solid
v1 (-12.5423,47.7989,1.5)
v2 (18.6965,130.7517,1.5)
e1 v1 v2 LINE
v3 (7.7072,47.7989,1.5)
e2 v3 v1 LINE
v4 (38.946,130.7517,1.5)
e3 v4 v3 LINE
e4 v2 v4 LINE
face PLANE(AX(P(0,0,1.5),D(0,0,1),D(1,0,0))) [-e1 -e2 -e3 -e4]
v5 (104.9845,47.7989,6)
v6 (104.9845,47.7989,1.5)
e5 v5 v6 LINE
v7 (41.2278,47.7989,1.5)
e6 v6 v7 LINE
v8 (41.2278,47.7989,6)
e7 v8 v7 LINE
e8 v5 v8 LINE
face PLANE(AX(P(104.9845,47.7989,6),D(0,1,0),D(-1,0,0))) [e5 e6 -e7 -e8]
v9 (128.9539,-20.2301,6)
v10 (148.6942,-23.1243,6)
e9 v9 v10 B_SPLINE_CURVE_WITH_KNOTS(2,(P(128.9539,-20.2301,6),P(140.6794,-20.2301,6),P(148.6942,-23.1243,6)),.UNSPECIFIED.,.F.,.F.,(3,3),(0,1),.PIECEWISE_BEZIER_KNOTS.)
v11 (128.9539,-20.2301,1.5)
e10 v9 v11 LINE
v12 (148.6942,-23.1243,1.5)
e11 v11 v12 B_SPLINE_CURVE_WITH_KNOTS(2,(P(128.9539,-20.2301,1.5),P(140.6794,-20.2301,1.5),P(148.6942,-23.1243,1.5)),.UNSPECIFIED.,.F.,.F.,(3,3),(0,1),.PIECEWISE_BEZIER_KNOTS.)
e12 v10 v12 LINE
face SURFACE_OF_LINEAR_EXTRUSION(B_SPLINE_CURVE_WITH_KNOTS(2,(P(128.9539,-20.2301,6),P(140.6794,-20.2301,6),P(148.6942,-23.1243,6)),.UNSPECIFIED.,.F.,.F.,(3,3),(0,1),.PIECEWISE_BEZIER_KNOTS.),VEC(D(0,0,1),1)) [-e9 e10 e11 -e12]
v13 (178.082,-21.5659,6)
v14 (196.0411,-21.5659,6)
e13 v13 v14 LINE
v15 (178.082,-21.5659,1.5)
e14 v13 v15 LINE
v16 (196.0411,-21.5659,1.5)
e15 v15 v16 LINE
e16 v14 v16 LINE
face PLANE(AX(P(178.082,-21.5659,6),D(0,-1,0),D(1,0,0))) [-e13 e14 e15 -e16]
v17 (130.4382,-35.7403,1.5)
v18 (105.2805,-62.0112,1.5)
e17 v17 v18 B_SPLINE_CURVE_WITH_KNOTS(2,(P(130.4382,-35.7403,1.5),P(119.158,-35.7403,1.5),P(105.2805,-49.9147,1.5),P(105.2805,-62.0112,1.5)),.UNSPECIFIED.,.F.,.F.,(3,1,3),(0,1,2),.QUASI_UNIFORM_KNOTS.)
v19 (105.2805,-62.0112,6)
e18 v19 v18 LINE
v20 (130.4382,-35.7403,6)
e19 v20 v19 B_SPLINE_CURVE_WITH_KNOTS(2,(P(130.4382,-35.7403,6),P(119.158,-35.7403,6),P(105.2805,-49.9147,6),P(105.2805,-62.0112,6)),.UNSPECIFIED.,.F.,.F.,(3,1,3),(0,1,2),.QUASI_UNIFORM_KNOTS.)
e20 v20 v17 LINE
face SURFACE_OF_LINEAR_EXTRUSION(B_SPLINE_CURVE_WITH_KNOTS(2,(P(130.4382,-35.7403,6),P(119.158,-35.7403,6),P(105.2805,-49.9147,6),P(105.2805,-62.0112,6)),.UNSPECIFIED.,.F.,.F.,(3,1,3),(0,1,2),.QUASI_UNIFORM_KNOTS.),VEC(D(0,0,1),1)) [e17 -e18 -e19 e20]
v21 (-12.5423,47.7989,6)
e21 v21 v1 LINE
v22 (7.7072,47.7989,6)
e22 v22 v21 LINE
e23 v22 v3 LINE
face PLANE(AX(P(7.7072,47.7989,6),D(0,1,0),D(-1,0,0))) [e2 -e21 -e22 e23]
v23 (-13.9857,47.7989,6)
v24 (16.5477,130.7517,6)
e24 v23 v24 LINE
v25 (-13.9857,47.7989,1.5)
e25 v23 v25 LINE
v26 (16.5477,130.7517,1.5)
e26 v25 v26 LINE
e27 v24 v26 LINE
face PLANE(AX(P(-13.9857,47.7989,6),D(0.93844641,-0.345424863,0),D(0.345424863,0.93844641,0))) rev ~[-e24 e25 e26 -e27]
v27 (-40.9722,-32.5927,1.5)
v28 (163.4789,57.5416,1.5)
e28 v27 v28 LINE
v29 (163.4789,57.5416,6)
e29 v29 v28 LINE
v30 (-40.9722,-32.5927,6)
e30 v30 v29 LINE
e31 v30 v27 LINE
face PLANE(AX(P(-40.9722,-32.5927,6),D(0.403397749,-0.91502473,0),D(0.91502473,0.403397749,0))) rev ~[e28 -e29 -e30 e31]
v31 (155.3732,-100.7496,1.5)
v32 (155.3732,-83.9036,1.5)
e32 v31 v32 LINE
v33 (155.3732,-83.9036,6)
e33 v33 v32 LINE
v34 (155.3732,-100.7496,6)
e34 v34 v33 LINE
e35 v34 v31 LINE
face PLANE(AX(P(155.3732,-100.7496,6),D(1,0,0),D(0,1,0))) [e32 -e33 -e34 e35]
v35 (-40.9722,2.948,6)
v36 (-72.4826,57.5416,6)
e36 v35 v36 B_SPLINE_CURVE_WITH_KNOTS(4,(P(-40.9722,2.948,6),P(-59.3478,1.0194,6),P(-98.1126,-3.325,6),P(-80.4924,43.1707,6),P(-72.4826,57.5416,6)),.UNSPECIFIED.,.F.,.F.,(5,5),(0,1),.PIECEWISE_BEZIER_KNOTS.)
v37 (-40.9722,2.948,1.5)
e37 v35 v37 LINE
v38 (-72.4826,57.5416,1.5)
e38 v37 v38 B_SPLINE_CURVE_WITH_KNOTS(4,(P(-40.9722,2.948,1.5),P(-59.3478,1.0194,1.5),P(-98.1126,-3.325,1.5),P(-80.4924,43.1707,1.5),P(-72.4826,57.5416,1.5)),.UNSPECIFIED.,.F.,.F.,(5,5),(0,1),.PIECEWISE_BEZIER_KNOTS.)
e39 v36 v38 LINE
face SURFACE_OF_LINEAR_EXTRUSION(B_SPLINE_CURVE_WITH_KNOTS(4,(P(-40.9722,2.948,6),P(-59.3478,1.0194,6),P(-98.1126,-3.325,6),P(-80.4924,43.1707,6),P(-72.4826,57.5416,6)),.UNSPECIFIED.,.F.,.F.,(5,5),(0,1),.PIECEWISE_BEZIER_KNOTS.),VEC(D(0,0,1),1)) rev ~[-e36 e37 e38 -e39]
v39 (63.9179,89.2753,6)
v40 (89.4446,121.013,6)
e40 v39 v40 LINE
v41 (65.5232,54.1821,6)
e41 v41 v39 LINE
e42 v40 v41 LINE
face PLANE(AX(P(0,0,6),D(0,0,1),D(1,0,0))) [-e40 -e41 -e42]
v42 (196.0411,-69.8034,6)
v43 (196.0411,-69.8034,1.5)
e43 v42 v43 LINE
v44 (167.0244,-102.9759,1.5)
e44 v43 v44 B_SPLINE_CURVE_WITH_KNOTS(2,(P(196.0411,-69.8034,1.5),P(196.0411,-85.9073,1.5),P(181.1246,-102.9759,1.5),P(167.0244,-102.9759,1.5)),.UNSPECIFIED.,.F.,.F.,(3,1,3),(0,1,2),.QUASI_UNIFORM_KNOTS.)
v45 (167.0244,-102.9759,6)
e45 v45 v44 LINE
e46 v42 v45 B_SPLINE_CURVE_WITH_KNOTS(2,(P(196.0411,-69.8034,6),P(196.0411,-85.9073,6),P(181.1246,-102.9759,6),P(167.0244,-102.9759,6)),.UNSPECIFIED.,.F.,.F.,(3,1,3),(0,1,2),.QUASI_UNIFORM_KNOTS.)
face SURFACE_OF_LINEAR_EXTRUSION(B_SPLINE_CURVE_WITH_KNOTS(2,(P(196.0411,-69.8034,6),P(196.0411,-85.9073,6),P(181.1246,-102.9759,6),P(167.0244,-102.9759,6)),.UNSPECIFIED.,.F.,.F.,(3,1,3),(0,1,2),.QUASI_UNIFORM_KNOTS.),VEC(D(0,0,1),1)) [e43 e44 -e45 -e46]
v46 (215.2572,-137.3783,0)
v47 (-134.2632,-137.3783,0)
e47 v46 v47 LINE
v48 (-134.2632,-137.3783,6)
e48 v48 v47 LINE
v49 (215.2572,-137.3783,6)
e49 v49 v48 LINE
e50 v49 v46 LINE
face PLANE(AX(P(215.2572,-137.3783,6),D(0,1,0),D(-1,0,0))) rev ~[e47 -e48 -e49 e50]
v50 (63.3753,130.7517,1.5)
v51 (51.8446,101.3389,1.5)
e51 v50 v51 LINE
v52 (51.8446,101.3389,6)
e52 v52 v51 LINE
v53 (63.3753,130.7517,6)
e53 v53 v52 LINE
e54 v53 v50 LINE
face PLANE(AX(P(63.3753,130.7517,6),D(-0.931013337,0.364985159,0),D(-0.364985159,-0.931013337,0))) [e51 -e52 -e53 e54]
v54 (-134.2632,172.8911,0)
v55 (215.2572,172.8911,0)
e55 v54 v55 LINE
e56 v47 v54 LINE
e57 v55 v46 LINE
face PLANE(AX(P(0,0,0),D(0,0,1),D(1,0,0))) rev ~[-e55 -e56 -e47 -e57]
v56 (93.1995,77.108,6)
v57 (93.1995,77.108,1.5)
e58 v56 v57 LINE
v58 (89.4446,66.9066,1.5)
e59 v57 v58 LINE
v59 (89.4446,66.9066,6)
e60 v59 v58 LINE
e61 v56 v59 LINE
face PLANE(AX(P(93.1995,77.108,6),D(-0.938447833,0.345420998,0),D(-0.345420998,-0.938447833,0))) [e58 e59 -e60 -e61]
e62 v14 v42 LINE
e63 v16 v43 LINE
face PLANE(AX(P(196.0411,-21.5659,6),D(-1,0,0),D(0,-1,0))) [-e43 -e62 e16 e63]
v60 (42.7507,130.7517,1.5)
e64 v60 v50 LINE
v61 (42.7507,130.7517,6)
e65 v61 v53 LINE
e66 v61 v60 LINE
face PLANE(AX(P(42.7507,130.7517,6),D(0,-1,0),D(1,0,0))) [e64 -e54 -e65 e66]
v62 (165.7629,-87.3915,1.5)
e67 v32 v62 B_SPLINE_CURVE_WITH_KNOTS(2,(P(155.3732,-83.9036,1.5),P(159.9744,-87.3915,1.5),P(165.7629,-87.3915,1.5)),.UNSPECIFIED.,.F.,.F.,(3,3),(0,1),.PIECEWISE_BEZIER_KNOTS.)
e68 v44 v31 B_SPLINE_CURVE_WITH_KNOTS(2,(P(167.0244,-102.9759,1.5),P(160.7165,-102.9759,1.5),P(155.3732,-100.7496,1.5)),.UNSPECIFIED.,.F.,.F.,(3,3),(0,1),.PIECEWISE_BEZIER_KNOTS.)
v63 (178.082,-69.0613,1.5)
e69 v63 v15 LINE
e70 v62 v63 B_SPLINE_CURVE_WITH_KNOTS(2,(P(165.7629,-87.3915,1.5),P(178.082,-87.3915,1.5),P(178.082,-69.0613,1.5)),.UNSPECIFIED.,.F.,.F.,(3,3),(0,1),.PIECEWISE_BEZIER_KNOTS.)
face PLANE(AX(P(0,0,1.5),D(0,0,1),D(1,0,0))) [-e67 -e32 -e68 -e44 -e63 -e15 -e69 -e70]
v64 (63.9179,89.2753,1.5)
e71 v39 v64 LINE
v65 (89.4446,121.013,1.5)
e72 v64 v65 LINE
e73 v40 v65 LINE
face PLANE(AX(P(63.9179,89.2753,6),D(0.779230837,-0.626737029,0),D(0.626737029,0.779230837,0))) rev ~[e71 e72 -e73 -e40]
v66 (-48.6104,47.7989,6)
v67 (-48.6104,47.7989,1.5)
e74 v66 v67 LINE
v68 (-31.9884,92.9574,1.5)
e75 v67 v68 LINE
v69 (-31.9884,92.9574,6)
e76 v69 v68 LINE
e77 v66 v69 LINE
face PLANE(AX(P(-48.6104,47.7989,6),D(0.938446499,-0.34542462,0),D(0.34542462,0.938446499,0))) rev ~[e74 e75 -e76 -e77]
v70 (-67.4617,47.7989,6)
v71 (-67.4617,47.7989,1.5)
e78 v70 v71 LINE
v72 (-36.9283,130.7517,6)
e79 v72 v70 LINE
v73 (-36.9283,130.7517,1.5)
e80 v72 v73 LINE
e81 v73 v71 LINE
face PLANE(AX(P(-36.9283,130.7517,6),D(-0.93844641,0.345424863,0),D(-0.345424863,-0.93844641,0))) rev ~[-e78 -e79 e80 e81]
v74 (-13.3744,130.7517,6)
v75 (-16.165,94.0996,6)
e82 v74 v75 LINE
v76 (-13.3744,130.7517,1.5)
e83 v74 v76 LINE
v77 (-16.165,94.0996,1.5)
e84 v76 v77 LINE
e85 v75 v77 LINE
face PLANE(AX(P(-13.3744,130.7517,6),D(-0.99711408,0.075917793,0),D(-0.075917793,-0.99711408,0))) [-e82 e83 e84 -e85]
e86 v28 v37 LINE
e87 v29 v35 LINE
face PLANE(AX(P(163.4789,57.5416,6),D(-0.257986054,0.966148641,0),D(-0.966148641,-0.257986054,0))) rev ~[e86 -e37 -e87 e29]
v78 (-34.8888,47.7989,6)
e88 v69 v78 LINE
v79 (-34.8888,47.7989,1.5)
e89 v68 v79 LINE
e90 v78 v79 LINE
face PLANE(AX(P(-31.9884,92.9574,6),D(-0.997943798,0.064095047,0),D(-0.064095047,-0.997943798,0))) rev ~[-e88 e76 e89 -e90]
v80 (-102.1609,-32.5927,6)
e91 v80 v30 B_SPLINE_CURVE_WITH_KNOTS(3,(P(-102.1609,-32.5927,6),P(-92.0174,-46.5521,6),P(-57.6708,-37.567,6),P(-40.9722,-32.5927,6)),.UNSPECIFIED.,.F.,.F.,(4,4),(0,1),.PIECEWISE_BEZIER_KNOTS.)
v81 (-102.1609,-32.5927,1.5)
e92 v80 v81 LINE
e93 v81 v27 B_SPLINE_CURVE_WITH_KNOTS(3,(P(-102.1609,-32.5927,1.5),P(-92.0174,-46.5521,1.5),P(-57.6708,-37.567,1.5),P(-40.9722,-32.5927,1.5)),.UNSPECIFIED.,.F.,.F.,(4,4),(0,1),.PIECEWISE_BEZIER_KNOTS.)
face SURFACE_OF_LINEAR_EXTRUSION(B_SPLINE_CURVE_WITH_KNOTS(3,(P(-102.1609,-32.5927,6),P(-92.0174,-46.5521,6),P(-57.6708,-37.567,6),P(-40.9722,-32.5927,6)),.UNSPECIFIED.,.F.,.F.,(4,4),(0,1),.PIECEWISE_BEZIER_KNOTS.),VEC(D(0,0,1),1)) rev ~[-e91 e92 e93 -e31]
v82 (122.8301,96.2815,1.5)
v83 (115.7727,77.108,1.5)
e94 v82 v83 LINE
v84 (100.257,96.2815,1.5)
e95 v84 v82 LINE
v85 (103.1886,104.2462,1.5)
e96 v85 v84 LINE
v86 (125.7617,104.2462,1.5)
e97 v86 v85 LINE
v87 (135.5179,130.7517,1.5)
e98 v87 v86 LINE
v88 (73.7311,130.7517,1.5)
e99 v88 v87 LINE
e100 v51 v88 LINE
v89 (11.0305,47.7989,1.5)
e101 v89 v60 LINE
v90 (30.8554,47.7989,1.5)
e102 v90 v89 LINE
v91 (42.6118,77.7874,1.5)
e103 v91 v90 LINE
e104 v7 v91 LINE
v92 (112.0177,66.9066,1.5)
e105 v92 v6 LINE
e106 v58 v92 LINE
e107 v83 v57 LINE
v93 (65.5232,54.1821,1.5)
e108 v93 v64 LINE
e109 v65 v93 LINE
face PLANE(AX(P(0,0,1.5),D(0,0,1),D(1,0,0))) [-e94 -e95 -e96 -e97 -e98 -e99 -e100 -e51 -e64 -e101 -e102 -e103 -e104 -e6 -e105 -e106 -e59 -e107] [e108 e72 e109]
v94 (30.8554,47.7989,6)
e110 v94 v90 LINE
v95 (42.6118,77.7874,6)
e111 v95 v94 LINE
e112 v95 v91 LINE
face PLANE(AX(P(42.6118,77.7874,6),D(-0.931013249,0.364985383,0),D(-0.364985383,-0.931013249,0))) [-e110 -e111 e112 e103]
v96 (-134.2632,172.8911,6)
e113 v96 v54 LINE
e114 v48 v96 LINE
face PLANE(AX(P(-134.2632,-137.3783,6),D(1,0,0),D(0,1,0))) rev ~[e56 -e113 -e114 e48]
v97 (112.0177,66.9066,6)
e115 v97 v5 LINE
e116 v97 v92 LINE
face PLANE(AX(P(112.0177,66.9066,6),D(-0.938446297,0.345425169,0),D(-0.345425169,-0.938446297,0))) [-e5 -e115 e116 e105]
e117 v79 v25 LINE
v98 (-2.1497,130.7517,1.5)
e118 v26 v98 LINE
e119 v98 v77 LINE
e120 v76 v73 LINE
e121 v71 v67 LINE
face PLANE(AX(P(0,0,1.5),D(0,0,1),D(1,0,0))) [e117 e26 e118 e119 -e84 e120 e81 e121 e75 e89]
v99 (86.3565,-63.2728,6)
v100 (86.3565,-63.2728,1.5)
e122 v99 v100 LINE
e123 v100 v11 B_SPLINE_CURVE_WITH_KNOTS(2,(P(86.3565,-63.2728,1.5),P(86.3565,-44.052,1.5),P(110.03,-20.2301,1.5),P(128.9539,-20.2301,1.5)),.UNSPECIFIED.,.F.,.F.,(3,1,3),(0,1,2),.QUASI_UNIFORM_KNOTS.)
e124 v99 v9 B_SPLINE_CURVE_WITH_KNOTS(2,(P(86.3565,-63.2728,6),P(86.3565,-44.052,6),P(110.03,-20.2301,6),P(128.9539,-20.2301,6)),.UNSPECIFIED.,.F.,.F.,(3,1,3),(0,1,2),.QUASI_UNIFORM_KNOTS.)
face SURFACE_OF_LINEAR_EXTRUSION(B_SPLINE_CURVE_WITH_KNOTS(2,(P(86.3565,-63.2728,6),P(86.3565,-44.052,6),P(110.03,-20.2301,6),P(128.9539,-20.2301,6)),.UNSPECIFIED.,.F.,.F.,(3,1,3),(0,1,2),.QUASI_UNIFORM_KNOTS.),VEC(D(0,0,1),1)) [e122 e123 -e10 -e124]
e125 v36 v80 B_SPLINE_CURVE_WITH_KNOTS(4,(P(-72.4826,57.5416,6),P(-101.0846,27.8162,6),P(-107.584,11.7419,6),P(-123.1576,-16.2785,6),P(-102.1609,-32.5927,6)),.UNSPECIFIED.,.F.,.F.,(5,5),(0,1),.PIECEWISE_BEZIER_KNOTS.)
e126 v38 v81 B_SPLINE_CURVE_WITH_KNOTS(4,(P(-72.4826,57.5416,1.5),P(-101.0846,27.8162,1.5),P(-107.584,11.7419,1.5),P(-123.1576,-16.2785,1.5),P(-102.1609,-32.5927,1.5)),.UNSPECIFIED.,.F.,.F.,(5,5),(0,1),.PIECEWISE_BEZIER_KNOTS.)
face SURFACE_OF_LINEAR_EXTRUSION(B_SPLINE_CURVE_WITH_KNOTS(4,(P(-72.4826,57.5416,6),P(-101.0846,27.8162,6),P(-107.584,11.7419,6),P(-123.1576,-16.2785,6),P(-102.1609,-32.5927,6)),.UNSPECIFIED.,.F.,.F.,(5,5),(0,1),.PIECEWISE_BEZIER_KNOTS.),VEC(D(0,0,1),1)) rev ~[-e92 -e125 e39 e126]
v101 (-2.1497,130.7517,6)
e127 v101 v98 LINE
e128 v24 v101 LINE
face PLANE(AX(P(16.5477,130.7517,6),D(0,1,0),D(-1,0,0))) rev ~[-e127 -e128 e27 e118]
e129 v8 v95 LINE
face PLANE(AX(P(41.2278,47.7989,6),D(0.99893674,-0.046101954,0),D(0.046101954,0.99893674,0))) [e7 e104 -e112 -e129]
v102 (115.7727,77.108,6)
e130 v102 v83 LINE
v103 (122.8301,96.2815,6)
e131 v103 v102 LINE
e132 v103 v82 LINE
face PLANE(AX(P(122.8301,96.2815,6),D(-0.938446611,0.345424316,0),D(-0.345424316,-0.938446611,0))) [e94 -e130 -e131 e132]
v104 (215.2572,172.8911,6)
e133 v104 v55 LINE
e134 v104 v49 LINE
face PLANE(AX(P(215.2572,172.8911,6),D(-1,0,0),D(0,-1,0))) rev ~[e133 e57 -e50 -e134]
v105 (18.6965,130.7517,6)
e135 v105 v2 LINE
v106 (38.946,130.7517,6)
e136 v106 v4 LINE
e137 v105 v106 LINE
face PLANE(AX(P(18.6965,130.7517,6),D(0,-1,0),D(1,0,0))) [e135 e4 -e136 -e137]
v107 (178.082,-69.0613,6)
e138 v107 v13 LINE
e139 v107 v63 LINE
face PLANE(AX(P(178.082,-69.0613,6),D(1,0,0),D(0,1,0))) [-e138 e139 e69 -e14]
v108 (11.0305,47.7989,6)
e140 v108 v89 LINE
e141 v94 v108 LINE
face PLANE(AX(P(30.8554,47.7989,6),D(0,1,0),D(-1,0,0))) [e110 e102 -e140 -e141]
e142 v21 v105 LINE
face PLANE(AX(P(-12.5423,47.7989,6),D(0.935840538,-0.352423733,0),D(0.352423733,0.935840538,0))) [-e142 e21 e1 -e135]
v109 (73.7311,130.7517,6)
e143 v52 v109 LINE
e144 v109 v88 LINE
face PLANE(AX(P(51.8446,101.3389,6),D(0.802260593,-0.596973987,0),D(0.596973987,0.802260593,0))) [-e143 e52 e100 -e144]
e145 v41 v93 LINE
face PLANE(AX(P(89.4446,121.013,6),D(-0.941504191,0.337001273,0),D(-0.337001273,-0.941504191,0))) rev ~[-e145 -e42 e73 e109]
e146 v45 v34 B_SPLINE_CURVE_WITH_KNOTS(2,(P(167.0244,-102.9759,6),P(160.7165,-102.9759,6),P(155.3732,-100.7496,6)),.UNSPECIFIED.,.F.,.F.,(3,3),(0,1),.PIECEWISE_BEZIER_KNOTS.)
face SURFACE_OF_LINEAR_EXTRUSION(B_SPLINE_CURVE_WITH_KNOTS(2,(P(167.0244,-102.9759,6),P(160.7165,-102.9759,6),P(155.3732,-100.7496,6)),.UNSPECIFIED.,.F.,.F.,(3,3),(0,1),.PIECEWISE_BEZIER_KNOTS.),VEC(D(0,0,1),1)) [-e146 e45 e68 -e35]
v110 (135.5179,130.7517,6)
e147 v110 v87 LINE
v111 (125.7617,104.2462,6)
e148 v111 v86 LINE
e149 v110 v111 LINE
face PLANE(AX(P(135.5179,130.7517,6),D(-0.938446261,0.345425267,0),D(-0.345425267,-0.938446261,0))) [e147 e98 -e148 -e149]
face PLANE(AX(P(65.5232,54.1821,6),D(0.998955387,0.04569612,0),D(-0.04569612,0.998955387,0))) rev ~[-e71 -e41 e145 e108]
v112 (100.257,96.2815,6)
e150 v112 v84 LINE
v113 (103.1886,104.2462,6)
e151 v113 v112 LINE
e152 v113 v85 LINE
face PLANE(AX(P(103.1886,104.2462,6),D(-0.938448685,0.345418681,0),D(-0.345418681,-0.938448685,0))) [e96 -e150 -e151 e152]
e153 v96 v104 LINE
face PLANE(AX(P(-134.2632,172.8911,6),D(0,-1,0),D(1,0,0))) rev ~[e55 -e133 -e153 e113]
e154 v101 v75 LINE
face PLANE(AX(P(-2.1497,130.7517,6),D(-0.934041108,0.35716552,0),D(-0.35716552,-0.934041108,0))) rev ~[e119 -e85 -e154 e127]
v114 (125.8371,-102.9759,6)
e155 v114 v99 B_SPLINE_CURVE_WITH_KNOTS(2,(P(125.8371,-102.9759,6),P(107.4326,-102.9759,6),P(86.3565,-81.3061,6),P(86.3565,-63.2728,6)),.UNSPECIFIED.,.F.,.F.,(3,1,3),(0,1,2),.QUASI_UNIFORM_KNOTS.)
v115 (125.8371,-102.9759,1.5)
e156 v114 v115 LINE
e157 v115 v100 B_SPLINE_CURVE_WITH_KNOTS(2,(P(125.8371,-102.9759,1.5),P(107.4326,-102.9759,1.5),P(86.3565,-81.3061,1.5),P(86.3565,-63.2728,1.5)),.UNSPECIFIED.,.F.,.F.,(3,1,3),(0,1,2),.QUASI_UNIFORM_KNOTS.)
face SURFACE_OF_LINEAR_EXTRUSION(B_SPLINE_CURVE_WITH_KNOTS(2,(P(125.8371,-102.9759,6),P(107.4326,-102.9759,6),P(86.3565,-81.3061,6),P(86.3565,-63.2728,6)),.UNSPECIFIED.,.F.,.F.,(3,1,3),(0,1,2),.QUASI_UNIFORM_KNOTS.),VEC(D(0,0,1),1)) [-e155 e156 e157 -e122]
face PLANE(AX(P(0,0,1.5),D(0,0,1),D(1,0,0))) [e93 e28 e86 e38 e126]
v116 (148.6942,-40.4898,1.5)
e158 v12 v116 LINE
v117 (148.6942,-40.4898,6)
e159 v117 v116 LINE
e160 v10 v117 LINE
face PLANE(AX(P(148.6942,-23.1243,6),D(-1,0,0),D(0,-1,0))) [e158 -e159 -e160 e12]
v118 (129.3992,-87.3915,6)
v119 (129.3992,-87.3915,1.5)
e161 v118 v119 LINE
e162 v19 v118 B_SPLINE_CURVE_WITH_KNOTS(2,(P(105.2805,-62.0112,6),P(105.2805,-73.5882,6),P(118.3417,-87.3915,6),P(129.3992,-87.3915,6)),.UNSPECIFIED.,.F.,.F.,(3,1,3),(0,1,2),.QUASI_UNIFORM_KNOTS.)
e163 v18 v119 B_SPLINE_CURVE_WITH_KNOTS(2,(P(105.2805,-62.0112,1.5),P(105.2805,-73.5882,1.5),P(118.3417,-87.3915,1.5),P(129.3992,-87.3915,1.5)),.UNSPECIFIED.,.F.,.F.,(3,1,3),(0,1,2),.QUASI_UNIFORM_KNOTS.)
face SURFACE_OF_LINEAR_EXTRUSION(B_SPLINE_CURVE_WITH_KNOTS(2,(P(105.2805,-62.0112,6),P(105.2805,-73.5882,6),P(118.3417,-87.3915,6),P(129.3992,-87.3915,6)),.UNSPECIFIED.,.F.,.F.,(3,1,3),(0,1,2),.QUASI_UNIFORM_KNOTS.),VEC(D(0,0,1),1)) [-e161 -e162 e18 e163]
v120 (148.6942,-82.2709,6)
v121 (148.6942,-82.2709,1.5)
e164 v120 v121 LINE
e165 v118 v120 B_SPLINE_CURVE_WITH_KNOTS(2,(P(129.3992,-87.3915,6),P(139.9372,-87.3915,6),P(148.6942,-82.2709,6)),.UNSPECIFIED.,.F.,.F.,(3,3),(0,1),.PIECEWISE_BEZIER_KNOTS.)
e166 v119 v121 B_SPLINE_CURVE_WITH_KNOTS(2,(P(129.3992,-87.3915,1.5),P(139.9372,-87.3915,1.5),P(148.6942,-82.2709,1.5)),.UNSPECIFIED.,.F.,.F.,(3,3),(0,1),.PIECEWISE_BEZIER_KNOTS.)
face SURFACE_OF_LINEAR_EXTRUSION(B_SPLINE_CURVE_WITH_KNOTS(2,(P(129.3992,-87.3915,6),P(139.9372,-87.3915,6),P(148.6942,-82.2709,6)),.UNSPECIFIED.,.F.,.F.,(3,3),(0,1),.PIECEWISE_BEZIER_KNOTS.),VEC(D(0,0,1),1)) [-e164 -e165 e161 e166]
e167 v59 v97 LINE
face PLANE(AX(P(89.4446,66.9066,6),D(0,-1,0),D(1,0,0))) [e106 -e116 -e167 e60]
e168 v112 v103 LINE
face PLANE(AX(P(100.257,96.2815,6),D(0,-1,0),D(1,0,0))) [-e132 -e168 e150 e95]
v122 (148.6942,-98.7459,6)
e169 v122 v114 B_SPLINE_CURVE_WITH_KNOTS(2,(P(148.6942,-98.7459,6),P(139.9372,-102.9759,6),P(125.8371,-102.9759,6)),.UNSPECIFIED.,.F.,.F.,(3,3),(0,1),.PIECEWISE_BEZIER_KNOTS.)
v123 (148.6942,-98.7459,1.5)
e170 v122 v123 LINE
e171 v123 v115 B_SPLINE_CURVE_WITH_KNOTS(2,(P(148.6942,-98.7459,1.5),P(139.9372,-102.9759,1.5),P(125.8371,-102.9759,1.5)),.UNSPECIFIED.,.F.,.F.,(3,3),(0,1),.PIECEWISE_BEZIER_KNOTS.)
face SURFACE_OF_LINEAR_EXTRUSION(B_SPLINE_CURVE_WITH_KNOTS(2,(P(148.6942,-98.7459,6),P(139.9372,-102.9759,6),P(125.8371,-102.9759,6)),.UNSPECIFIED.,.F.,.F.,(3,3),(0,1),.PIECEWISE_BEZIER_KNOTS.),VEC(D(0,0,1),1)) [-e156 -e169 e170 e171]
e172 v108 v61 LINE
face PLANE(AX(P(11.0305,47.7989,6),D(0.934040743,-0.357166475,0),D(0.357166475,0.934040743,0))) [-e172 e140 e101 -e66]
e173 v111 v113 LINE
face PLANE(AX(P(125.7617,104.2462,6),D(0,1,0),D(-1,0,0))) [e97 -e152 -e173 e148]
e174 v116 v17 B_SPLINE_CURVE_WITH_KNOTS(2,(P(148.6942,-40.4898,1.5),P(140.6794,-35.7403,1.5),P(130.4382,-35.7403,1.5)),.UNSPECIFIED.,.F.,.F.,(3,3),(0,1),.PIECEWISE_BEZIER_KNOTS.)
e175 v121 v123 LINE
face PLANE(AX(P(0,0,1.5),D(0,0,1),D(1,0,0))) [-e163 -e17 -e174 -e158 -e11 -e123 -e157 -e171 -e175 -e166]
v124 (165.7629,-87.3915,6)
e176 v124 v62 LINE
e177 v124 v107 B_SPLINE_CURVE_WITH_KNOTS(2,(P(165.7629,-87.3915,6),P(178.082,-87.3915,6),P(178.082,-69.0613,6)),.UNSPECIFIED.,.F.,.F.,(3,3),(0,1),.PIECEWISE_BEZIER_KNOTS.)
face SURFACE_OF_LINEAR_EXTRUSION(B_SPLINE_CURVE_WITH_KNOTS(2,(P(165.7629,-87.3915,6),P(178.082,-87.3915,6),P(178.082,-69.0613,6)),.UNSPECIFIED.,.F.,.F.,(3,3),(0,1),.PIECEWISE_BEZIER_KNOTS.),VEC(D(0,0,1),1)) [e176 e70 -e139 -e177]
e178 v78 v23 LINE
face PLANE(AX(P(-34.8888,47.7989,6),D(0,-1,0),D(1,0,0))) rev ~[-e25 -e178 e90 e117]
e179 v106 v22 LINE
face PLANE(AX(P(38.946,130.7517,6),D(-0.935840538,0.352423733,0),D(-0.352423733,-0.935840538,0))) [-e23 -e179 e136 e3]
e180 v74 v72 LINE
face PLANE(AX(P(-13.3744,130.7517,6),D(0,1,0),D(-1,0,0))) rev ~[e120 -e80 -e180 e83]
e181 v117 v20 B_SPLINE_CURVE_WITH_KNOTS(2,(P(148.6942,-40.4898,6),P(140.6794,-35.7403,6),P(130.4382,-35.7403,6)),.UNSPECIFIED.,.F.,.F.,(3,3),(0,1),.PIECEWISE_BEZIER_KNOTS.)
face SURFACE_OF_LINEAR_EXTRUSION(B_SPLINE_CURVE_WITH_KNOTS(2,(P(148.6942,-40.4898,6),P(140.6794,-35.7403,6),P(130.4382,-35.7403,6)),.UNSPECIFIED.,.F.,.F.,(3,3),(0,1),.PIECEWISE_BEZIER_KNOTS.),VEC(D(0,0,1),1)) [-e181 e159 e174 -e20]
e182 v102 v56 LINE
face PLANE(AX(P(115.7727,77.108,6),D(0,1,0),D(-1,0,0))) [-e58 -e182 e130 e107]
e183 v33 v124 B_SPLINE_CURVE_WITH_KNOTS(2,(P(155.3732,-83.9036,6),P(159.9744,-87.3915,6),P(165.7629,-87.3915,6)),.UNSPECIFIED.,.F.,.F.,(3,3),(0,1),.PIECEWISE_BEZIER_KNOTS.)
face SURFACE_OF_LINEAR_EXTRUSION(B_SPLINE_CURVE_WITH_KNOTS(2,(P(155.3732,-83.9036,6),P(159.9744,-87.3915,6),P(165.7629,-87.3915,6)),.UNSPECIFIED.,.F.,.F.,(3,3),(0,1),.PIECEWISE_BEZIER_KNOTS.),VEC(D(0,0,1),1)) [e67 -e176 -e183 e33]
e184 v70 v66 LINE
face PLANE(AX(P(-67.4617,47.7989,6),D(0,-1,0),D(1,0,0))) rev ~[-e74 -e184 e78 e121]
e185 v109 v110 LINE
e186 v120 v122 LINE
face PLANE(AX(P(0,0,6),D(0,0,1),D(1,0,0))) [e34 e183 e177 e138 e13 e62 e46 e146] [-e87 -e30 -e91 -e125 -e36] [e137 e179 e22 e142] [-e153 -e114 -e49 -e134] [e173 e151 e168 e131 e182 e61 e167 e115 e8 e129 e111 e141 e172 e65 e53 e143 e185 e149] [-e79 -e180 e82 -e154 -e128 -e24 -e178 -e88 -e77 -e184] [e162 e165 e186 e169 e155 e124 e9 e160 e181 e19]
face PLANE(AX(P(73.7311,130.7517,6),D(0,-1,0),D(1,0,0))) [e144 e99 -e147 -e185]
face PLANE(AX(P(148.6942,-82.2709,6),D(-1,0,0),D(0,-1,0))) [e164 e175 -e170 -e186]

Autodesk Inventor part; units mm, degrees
ref_plane "YZ Plane" through (0, 0, 0) normal (1, 0, 0) x (0, 1, 0)
ref_plane "XZ Plane" through (0, 0, 0) normal (0, 1, 0) x (-1, 0, 0)
ref_plane "XY Plane" through (0, 0, 0) normal (0, 0, 1) x (1, 0, 0)
sketch "Boceto1" plane through (0, 0, 0) normal (0, 0, 1) x (1, 0, 0)
  line L0 (-250, -250) -> (250, -250)
  line L1 (250, -250) -> (250, 250)
  line L2 (250, 250) -> (-250, 250)
  line L3 (-250, 250) -> (-250, -250)
  line L4 (-250, -250) -> (250, 250) construction
  line L5 (250, -250) -> (-250, 250) construction
  point P0 (0, 0)
  dimension "d0" = 500
  dimension "d1" = 500
extrude "Extrusión1" add sketch "Boceto1" along normal blind 6
sketch "Boceto4" plane through (0, 0, 6) normal (0, 0, 1) x (1, 0, 0)
  line L0 (-122.9682, 69.533) -> (177.0318, 69.533) construction
  line L1 (177.0318, 69.533) -> (177.0318, -53.8632) construction
  line L2 (177.0318, -53.8632) -> (-122.9682, -53.8632) construction
  line L3 (-122.9682, -53.8632) -> (-122.9682, 69.533) construction
  line L4 (163.4789, 57.5416) -> (-40.9722, 2.948)
  spline S0 degree 4 poles (-40.9722, 2.948) (-59.3478, 1.0194) (-98.1126, -3.325) (-80.4924, 43.1707) (-72.4826, 57.5416) knots 0 0 0 0 0 1 1 1 1 1
  spline S1 degree 4 poles (-72.4826, 57.5416) (-101.0846, 27.8162) (-107.584, 11.7419) (-123.1576, -16.2785) (-102.1609, -32.5927) knots 0 0 0 0 0 1 1 1 1 1
  spline S2 degree 3 poles (-102.1609, -32.5927) (-92.0174, -46.5521) (-57.6708, -37.567) (-40.9722, -32.5927) knots 0 0 0 0 1 1 1 1
  line L5 (-40.9722, -32.5927) -> (163.4789, 57.5416)
  point P0 (0, 0)
  point P1 (-62.9545, 2.949)
  point P2 (-77.976, 12.1095)
  point P3 (-80.9081, 33.7265)
  point P4 (-98.8634, 24.932)
  point P5 (-109.4889, 2.9481)
  point P6 (-111.753, -15.9522)
  point P7 (-88.6041, -39.5543)
  point P8 (-62.956, -38.0886)
  dimension "d19" = 300
extrude "Extrusión4" cut sketch "Boceto4" against normal blind 4.5
sketch "Boceto6" plane through (0, 0, 6) normal (0, 0, 1) x (1, 0, 0)
  line L0 (82.2007, -20.2301) -> (276.8192, -20.2301) construction
  line L1 (276.8192, -20.2301) -> (276.8192, -107.8084) construction
  line L2 (276.8192, -107.8084) -> (82.2007, -107.8084) construction
  line L3 (82.2007, -107.8084) -> (82.2007, -20.2301) construction
  spline S0 degree 2 poles (148.6942, -98.7459) (139.9372, -102.9759) (125.8371, -102.9759) knots 0 0 0 1 1 1
  spline S1 degree 2 poles (125.8371, -102.9759) (107.4326, -102.9759) (86.3565, -81.3061) (86.3565, -63.2728) knots 0 0 0 1 2 2 2
  spline S2 degree 2 poles (86.3565, -63.2728) (86.3565, -44.052) (110.03, -20.2301) (128.9539, -20.2301) knots 0 0 0 1 2 2 2
  spline S3 degree 2 poles (128.9539, -20.2301) (140.6794, -20.2301) (148.6942, -23.1243) knots 0 0 0 1 1 1
  line L4 (148.6942, -23.1243) -> (148.6942, -40.4898)
  spline S4 degree 2 poles (148.6942, -40.4898) (140.6794, -35.7403) (130.4382, -35.7403) knots 0 0 0 1 1 1
  spline S5 degree 2 poles (130.4382, -35.7403) (119.158, -35.7403) (105.2805, -49.9147) (105.2805, -62.0112) knots 0 0 0 1 2 2 2
  spline S6 degree 2 poles (105.2805, -62.0112) (105.2805, -73.5882) (118.3417, -87.3915) (129.3992, -87.3915) knots 0 0 0 1 2 2 2
  spline S7 degree 2 poles (129.3992, -87.3915) (139.9372, -87.3915) (148.6942, -82.2709) knots 0 0 0 1 1 1
  line L5 (148.6942, -82.2709) -> (148.6942, -98.7459)
  spline S8 degree 2 poles (196.0411, -69.8034) (196.0411, -85.9073) (181.1246, -102.9759) (167.0244, -102.9759) knots 0 0 0 1 2 2 2
  spline S9 degree 2 poles (167.0244, -102.9759) (160.7165, -102.9759) (155.3732, -100.7496) knots 0 0 0 1 1 1
  line L6 (155.3732, -100.7496) -> (155.3732, -83.9036)
  spline S10 degree 2 poles (155.3732, -83.9036) (159.9744, -87.3915) (165.7629, -87.3915) knots 0 0 0 1 1 1
  spline S11 degree 2 poles (165.7629, -87.3915) (178.082, -87.3915) (178.082, -69.0613) knots 0 0 0 1 1 1
  line L7 (178.082, -69.0613) -> (178.082, -21.5659)
  line L8 (178.082, -21.5659) -> (196.0411, -21.5659)
  line L9 (196.0411, -21.5659) -> (196.0411, -69.8034)
  point P0 (0, 0)
extrude "Extrusión5" cut sketch "Boceto6" against normal blind 4.5
sketch "Boceto7" plane through (0, 0, 6) normal (0, 0, 1) x (1, 0, 0)
  line L0 (-96.8701, 190.9254) -> (156.7066, 190.9254) construction
  line L1 (156.7066, 190.9254) -> (156.7066, -16.508) construction
  line L2 (156.7066, -16.508) -> (-96.8701, -16.508) construction
  line L3 (-96.8701, -16.508) -> (-96.8701, 190.9254) construction
  line L4 (-67.4617, 47.7989) -> (-48.6104, 47.7989)
  line L5 (-48.6104, 47.7989) -> (-31.9884, 92.9574)
  line L6 (-31.9884, 92.9574) -> (-34.8888, 47.7989)
  line L7 (-34.8888, 47.7989) -> (-13.9857, 47.7989)
  line L8 (-13.9857, 47.7989) -> (16.5477, 130.7517)
  line L9 (16.5477, 130.7517) -> (-2.1497, 130.7517)
  line L10 (-13.3744, 130.7517) -> (-36.9283, 130.7517)
  line L11 (-36.9283, 130.7517) -> (-67.4617, 47.7989)
  line L12 (7.7072, 47.7989) -> (-12.5423, 47.7989)
  line L13 (-12.5423, 47.7989) -> (18.6965, 130.7517)
  line L14 (18.6965, 130.7517) -> (38.946, 130.7517)
  line L15 (38.946, 130.7517) -> (7.7072, 47.7989)
  line L16 (-13.3744, 130.7517) -> (-16.165, 94.0996)
  line L17 (-2.1497, 130.7517) -> (-16.165, 94.0996)
  line L18 (42.7507, 130.7517) -> (63.3753, 130.7517)
  line L19 (63.3753, 130.7517) -> (51.8446, 101.3389)
  line L20 (51.8446, 101.3389) -> (73.7311, 130.7517)
  line L21 (73.7311, 130.7517) -> (135.5179, 130.7517)
  line L22 (135.5179, 130.7517) -> (125.7617, 104.2462)
  line L23 (125.7617, 104.2462) -> (103.1886, 104.2462)
  line L24 (103.1886, 104.2462) -> (100.257, 96.2815)
  line L25 (100.257, 96.2815) -> (122.8301, 96.2815)
  line L26 (122.8301, 96.2815) -> (115.7727, 77.108)
  line L27 (115.7727, 77.108) -> (93.1995, 77.108)
  line L28 (93.1995, 77.108) -> (89.4446, 66.9066)
  line L29 (89.4446, 66.9066) -> (112.0177, 66.9066)
  line L30 (112.0177, 66.9066) -> (104.9845, 47.7989)
  line L31 (104.9845, 47.7989) -> (41.2278, 47.7989)
  line L32 (41.2278, 47.7989) -> (42.6118, 77.7874)
  line L33 (42.6118, 77.7874) -> (30.8554, 47.7989)
  line L34 (11.0305, 47.7989) -> (42.7507, 130.7517)
  line L35 (30.8554, 47.7989) -> (11.0305, 47.7989)
  line L36 (89.4446, 121.013) -> (65.5232, 54.1821)
  line L37 (65.5232, 54.1821) -> (63.9179, 89.2753)
  line L38 (63.9179, 89.2753) -> (89.4446, 121.013)
  point P0 (0, 0)
extrude "Extrusión6" cut sketch "Boceto7" against normal blind 4.5
sketch "Boceto8" plane through (0, 0, 6) normal (0, 0, 1) x (1, 0, 0)
  line L0 (-134.2632, 172.8911) -> (215.2572, 172.8911)
  line L1 (215.2572, 172.8911) -> (215.2572, -137.3783)
  line L2 (215.2572, -137.3783) -> (-134.2632, -137.3783)
  line L3 (-134.2632, -137.3783) -> (-134.2632, 172.8911)
  line L4 (250, 250) -> (-250, 250) projected
  line L5 (250, -250) -> (250, 250) projected
  line L6 (-250, 250) -> (250, 250)
  line L7 (250, 250) -> (250, -250)
  line L8 (250, -250) -> (-250, -250)
  line L9 (-250, -250) -> (-250, 250)
  point P0 (0, 0)
extrude "Extrusión7" cut sketch "Boceto8" against normal blind 133.25
equation "\"d1\" = d0"
properties part number "Silueta_nike_nombres"
